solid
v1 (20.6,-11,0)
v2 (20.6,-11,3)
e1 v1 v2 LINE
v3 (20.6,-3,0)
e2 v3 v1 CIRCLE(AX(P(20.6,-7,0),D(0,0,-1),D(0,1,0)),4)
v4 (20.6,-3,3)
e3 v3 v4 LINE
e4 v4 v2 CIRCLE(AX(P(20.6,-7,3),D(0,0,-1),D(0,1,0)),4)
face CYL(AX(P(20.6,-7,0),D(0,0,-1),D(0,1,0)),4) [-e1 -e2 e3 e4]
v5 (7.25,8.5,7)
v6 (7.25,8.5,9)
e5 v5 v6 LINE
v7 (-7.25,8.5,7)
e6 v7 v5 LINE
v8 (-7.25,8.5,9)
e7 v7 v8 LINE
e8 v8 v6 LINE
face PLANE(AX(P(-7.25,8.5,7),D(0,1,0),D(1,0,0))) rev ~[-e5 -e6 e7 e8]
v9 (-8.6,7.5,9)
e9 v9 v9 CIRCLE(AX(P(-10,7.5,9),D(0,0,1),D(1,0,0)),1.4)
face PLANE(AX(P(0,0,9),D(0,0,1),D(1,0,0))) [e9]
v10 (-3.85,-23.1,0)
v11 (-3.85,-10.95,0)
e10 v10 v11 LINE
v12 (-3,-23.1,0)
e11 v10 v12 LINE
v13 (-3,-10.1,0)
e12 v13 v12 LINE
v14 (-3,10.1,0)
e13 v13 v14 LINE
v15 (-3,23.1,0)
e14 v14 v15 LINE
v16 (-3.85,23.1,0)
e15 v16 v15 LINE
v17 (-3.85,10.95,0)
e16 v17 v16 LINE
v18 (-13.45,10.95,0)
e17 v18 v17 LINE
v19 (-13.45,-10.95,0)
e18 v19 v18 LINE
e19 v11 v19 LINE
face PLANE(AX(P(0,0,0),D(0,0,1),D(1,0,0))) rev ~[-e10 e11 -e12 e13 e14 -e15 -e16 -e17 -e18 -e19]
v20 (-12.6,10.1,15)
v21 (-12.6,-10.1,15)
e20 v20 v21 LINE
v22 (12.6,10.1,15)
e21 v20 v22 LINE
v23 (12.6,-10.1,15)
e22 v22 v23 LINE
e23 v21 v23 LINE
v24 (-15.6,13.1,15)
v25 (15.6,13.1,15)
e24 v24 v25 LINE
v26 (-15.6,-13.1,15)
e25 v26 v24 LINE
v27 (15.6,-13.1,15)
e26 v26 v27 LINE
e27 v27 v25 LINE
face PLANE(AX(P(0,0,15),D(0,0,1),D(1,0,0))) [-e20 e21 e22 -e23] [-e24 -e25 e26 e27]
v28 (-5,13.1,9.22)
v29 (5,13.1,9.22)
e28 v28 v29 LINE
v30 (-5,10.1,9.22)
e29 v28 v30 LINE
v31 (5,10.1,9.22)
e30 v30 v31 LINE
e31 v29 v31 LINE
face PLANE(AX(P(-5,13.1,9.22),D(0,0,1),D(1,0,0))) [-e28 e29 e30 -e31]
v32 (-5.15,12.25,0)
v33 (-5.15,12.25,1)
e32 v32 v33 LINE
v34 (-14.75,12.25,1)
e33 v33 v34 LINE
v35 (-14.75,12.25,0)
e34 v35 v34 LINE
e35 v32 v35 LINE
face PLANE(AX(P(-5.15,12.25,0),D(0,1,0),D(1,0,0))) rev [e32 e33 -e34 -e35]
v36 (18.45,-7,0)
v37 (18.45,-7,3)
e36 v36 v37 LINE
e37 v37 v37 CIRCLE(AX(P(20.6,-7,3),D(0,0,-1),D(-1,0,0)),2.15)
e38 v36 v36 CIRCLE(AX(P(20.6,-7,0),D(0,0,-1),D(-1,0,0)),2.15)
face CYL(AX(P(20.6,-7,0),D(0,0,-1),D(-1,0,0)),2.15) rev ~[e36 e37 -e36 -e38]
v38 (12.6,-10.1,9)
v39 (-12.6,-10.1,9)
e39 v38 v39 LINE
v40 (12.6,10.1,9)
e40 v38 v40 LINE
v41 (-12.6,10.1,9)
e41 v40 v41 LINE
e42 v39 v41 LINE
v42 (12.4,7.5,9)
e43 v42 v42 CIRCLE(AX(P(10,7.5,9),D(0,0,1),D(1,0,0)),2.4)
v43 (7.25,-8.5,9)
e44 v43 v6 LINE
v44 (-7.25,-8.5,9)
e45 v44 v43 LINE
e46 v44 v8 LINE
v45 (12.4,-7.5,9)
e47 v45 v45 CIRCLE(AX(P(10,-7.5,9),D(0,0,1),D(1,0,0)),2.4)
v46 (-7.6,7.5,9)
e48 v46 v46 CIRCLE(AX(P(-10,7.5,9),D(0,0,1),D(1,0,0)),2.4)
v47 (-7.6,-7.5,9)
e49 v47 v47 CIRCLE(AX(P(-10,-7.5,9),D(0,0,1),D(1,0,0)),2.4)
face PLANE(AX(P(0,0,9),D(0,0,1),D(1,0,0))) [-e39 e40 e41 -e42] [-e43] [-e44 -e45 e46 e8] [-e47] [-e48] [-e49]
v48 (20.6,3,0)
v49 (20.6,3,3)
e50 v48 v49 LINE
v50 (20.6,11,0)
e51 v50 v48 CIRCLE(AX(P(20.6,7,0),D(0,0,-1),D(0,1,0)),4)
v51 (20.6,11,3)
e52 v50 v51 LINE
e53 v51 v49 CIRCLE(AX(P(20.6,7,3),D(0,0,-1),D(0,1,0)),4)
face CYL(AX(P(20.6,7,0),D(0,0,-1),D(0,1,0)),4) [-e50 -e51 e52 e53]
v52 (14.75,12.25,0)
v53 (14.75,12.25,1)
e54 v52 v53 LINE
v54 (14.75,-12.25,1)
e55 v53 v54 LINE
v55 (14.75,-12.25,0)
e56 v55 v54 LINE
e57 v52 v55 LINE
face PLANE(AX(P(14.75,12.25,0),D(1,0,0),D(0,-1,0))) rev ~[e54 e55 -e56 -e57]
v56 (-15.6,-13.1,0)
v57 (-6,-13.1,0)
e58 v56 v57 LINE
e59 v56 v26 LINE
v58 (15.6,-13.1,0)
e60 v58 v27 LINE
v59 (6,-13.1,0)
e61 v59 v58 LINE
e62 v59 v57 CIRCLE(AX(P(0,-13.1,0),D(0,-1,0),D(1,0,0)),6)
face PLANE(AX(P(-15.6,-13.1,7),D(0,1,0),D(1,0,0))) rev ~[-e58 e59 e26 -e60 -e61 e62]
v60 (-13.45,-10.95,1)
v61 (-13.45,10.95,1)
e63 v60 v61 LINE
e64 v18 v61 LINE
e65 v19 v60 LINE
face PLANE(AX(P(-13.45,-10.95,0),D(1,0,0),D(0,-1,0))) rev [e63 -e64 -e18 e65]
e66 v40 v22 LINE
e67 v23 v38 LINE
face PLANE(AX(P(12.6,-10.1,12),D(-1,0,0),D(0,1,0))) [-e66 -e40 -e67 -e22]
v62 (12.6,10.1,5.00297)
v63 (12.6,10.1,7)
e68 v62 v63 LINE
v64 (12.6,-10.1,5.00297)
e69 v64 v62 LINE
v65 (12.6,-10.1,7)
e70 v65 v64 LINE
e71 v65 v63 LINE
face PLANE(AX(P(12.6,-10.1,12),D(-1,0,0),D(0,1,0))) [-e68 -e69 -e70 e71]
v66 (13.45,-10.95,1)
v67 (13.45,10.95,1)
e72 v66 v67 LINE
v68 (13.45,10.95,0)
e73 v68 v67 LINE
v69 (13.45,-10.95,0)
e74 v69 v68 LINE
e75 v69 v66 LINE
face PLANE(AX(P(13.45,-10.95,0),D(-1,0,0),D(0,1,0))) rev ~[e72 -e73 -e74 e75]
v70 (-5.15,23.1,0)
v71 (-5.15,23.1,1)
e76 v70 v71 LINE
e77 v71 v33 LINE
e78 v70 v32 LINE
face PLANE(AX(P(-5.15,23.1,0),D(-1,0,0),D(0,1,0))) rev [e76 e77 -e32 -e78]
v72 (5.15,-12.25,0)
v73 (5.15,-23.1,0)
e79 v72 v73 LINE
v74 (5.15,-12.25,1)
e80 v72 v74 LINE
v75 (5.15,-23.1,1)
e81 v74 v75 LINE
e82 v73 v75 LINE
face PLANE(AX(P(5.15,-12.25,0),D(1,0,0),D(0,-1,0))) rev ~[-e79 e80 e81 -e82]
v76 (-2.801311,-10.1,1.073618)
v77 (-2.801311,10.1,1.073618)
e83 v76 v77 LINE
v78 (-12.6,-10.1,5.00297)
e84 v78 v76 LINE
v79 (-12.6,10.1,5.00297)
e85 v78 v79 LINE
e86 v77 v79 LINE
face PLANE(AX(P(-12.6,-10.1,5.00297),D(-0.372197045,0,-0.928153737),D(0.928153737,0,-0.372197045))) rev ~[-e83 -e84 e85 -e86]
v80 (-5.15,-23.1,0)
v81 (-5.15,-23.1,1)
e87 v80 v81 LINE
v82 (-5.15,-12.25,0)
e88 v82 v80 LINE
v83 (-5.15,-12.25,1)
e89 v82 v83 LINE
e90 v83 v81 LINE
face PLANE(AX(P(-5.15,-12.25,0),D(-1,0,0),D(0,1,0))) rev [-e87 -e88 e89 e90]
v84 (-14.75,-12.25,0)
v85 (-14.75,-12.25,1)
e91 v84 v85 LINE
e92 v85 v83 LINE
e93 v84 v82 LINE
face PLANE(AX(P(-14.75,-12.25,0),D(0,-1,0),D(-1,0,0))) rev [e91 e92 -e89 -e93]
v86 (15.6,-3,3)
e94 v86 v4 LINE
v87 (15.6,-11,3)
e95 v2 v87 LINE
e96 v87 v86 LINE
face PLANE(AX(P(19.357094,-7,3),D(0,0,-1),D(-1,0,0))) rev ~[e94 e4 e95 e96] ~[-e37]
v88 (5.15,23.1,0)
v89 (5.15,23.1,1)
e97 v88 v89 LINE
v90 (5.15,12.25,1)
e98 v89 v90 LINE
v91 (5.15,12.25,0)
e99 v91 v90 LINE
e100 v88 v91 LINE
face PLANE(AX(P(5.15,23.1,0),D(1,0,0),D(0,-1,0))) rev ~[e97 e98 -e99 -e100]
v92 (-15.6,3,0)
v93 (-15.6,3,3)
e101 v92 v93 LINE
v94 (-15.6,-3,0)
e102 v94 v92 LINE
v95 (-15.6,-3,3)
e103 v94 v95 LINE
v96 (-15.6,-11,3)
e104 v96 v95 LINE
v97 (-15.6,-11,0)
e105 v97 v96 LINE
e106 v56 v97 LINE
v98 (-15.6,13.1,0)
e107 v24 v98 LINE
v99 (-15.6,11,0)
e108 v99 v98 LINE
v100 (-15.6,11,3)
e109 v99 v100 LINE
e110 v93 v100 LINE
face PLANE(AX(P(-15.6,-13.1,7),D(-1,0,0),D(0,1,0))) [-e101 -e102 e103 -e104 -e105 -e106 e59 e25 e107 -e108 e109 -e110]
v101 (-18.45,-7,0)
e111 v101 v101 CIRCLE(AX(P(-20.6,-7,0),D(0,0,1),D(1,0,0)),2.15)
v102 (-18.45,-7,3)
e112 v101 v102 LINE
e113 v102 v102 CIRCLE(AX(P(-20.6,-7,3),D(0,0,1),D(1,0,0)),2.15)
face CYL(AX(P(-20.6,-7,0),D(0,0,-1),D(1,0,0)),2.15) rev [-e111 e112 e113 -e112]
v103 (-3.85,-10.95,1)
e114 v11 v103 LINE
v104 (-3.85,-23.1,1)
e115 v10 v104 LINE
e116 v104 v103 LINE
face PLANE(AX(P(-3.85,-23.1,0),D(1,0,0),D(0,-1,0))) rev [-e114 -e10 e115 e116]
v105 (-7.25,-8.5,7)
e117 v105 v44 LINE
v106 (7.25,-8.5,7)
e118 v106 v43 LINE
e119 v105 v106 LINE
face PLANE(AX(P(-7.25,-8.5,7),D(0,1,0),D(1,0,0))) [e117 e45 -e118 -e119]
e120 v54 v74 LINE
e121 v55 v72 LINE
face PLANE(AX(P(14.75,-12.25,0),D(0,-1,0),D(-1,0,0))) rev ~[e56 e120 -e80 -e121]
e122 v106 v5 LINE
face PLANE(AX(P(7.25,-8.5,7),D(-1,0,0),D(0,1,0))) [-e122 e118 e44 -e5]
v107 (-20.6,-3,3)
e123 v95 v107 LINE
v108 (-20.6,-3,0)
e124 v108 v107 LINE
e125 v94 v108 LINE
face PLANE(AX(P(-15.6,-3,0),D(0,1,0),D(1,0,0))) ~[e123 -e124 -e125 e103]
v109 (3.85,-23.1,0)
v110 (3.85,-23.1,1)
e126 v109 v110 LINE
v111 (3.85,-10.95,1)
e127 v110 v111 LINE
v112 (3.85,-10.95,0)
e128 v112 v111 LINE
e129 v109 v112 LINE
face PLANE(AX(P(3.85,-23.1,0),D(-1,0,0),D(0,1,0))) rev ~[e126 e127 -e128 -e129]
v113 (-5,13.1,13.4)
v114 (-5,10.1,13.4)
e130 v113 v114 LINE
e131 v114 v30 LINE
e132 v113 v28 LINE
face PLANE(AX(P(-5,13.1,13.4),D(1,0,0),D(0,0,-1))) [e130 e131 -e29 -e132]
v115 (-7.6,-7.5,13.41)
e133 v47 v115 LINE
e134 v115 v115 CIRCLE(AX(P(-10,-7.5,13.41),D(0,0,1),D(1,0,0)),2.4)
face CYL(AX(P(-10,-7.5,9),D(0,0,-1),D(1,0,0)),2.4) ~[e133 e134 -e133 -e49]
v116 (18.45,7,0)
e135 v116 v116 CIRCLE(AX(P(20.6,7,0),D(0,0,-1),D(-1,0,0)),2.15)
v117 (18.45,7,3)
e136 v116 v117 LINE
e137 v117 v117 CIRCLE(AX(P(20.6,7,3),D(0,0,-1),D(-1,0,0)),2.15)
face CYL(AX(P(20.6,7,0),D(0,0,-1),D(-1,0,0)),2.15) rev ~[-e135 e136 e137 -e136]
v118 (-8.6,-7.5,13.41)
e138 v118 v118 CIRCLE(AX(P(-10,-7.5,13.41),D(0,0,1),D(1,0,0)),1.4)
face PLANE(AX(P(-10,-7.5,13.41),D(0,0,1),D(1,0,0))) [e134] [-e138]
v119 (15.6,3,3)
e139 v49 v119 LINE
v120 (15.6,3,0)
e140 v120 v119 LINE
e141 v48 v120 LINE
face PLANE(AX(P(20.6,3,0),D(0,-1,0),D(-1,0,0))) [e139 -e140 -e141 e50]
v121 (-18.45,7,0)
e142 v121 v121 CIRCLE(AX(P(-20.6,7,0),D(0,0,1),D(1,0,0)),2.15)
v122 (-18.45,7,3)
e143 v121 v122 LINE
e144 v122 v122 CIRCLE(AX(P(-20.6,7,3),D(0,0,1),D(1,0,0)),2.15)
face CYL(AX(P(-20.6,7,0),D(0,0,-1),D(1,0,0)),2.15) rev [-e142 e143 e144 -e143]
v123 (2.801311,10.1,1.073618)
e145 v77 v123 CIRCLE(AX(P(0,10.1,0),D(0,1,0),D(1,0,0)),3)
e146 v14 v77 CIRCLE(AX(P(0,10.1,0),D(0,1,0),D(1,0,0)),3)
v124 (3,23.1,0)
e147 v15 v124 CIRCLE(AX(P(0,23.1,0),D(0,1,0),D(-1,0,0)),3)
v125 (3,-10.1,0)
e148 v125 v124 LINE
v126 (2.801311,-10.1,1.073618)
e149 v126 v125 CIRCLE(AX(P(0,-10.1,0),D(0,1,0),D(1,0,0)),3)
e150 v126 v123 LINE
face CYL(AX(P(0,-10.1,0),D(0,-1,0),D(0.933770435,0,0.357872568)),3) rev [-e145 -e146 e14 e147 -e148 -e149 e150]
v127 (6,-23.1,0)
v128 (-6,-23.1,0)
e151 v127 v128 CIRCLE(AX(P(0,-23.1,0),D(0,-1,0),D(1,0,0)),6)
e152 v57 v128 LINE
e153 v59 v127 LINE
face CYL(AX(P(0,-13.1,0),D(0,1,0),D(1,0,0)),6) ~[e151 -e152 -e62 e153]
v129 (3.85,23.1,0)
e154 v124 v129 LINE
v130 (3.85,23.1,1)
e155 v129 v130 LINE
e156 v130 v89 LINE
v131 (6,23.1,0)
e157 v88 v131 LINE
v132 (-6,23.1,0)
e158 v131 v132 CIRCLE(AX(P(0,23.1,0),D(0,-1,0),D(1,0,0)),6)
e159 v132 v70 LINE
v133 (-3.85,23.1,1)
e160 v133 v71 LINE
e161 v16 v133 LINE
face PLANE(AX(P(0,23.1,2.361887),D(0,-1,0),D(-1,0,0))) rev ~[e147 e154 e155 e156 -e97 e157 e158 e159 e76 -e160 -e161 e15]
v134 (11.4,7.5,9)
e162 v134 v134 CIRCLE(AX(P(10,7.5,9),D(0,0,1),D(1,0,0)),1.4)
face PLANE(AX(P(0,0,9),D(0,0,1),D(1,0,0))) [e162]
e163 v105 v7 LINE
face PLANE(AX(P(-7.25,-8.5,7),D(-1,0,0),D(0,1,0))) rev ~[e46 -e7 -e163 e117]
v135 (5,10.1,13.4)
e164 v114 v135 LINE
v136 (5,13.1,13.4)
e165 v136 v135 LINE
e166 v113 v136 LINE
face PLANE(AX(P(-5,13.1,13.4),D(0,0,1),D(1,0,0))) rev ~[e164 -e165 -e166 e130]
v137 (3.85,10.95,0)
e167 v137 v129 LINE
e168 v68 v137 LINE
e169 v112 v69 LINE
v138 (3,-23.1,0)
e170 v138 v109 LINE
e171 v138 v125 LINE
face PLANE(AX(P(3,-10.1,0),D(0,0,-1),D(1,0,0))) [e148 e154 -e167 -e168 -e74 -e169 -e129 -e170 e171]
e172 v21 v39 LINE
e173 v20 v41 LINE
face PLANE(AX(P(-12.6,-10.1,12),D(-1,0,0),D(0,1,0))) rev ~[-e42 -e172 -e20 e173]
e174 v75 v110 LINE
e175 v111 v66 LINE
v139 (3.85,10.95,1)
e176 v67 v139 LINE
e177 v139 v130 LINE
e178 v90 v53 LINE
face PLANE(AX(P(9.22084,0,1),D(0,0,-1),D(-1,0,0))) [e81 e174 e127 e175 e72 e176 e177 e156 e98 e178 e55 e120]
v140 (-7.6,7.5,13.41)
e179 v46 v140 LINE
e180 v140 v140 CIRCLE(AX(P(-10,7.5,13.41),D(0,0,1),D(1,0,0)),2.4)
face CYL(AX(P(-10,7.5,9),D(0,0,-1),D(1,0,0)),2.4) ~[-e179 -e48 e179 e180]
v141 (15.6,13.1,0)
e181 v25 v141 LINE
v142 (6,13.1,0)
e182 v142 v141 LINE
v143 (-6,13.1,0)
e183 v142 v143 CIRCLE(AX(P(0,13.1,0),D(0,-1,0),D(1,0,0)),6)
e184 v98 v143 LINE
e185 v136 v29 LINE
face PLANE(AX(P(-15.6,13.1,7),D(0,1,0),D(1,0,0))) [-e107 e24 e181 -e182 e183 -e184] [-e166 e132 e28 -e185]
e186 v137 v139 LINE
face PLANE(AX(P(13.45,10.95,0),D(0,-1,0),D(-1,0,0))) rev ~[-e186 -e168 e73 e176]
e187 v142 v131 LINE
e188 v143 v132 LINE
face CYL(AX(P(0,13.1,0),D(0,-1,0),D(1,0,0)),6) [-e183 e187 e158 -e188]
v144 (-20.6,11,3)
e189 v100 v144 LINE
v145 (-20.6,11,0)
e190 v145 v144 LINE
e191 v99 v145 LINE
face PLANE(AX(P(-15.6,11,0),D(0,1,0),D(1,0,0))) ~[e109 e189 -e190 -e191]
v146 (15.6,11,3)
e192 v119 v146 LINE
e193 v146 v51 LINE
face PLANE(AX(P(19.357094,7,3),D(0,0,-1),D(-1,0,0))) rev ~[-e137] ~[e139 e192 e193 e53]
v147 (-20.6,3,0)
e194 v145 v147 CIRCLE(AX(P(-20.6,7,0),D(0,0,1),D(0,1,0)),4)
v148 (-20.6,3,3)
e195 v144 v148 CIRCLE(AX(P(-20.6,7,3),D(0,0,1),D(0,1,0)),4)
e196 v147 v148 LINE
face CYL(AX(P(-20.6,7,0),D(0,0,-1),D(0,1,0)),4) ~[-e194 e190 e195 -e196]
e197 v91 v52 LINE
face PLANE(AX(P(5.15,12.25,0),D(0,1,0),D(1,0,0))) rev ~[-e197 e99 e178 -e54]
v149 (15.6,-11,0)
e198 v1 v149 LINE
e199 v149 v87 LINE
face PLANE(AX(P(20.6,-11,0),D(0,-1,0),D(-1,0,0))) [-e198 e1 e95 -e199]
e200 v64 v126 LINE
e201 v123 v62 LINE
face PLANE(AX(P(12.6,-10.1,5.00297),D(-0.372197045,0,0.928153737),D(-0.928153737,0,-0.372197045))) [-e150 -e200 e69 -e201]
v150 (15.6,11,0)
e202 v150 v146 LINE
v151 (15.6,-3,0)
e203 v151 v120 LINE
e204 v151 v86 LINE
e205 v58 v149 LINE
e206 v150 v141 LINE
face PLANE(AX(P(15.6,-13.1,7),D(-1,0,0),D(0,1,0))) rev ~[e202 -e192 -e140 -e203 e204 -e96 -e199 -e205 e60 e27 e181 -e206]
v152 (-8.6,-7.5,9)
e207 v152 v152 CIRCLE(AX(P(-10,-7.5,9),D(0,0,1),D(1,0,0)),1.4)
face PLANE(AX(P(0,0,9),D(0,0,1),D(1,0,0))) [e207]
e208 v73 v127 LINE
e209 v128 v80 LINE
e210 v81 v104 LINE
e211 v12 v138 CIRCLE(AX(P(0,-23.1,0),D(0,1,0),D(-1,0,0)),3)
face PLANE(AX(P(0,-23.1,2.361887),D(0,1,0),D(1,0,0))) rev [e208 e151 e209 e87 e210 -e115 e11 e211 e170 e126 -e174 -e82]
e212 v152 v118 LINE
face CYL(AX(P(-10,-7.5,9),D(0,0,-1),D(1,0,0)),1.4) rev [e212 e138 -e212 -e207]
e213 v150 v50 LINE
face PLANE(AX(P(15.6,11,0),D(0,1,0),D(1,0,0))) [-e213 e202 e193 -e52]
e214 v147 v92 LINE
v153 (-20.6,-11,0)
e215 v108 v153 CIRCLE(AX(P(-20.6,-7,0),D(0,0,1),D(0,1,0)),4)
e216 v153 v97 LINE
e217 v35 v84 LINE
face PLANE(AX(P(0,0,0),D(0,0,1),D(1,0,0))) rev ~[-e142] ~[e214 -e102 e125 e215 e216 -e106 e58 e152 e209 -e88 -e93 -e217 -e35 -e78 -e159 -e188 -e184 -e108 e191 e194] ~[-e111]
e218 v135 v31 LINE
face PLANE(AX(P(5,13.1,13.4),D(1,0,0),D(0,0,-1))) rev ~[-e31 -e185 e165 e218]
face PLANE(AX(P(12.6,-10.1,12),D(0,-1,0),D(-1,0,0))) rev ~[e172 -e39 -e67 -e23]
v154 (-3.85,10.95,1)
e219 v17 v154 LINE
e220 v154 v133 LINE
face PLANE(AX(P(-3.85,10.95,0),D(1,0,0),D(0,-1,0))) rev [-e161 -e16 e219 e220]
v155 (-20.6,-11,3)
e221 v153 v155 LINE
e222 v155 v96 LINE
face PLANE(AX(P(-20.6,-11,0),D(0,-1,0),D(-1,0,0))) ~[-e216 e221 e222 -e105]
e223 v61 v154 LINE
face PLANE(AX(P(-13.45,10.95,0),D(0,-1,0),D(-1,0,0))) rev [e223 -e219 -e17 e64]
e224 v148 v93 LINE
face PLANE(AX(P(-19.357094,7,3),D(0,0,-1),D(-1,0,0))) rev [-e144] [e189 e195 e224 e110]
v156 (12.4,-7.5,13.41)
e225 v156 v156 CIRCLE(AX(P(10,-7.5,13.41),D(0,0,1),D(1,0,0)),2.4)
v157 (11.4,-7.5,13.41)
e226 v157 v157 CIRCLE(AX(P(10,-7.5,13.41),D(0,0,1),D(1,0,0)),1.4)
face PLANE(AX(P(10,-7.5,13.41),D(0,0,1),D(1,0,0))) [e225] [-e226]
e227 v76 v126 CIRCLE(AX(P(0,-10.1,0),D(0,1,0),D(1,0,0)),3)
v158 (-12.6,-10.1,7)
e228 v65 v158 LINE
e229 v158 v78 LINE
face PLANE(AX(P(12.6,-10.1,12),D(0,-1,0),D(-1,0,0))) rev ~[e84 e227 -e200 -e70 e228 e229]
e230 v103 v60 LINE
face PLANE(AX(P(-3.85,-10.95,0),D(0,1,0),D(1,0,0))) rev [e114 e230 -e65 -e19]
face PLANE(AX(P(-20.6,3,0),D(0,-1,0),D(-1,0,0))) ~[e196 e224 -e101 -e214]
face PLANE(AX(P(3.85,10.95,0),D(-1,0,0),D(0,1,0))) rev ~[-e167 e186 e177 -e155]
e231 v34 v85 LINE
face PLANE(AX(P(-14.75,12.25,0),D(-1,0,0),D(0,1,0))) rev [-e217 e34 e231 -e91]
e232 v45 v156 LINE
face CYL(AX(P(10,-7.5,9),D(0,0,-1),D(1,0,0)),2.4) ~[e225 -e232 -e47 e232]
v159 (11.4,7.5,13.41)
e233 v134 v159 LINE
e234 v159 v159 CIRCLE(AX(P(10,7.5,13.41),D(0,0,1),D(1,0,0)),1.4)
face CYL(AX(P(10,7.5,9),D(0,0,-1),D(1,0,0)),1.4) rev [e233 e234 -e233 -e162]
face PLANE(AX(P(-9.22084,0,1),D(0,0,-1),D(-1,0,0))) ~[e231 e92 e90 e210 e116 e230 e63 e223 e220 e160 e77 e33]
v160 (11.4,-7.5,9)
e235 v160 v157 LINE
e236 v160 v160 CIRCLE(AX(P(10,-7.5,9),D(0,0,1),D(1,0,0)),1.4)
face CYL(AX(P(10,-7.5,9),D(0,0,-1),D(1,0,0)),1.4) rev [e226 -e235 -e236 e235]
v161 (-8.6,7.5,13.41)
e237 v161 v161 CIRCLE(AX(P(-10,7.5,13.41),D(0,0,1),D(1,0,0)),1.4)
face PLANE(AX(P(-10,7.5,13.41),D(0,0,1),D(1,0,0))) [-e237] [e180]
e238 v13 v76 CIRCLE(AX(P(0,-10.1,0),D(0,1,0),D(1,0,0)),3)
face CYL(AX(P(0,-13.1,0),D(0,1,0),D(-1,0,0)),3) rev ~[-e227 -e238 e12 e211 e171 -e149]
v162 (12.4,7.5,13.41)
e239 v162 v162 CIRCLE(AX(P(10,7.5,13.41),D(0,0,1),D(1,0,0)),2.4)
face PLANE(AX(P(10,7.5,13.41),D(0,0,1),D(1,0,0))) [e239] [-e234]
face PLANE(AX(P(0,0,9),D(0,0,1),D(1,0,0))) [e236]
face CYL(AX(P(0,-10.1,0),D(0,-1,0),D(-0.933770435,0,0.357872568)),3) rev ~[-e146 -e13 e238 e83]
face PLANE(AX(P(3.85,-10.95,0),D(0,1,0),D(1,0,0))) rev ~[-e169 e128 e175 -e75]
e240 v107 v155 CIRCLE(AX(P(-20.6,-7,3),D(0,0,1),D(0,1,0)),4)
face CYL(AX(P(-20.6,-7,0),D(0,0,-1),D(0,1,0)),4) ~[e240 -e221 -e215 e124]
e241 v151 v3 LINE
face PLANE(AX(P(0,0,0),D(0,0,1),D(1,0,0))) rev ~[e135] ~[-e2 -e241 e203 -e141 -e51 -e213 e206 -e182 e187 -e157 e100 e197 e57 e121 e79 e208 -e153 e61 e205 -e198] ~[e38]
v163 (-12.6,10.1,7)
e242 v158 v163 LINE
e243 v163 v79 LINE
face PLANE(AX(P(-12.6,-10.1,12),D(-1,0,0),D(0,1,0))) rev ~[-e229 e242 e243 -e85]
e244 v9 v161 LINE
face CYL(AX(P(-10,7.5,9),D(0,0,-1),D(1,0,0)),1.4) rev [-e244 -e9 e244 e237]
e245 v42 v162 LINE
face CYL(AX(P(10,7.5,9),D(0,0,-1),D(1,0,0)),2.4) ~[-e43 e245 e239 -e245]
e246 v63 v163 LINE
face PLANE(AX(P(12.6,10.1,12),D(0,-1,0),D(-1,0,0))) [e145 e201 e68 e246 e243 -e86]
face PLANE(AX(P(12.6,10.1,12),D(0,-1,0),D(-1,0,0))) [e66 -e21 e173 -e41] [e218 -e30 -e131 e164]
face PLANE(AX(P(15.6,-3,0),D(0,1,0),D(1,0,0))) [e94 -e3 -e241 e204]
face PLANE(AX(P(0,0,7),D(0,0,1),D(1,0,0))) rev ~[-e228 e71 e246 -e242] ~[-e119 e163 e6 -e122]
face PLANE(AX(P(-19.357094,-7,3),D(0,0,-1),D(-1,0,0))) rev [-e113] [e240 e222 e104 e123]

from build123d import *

# Parameters (mm, degrees)
SKETCH1_W            = 31.2
SKETCH1_H            = 26.2
BOSS_EXTRUDE1_DEPTH  = 15
SHELL2_T             = -3
BOSS_EXTRUDE2_DEPTH  = 10
CUT_EXTRUDE2_DEPTH   = 43.175822458
SKETCH8_R            = 2.15
BOSS_EXTRUDE5_DEPTH  = 3
CUT_EXTRUDE7_DEPTH   = 1
SKETCH14_W           = 25.2
SKETCH14_H           = 20.2
CUT_EXTRUDE5_DEPTH   = 36.815778646
BOSS_EXTRUDE8_REACH  = 45.959
BOSS_EXTRUDE9_START  = -8
SKETCH15_W           = 31.2
SKETCH15_H           = 26.2
SKETCH15_W_2         = 14.5
SKETCH15_H_2         = 17
BOSS_EXTRUDE9_DEPTH  = 2
SKETCH16_R           = 2.4
SKETCH16_R_2         = 1.4
BOSS_EXTRUDE10_DEPTH = 4.41
CUT_EXTRUDE6_REACH   = 48.267
SKETCH5_W            = 10
SKETCH5_H            = 4.18


with BuildPart() as part:
    # Sketch1 → Boss-Extrude1 (new body)
    with BuildSketch(Plane.XY):
        Rectangle(SKETCH1_W, SKETCH1_H)
    extrude(amount=BOSS_EXTRUDE1_DEPTH)

    # Shell2
    shell2_openings = [part.faces().sort_by_distance(p)[0] for p in [
        (0, 0, 0),
    ]]
    offset(amount=SHELL2_T, openings=shell2_openings, kind=Kind.INTERSECTION)

    # Sketch3 → Boss-Extrude2 (add)
    with BuildSketch(Plane(origin=(0, 13.1, 0), x_dir=(1, 0, 0), z_dir=(0, 1, 0))):
        with BuildLine():
            Line((-6, 0), (-3, 0))
            ThreePointArc((-3, 0), (0, -3), (3, 0))
            Line((3, 0), (6, 0))
            ThreePointArc((6, 0), (0, -6), (-6, 0))
        make_face()
    boss_extrude2 = extrude(amount=BOSS_EXTRUDE2_DEPTH)

    # Mirror1: Boss-Extrude2 across plane
    add(boss_extrude2.mirror(Plane.ZX))

    # Sketch4 → Cut-Extrude2 (cut, through all)
    with BuildSketch(Plane(origin=(0, 13.1, 0), x_dir=(1, 0, 0), z_dir=(0, 1, 0))):
        with BuildLine():
            Line((-3, 0), (3, 0))
            ThreePointArc((3, 0), (0, -3), (-3, 0))
        make_face()
    extrude(amount=-CUT_EXTRUDE2_DEPTH, mode=Mode.SUBTRACT)

    # Sketch8 → Boss-Extrude5 (add)
    # profile 1 of 2: a face of its own
    with BuildSketch(Plane(origin=(0, 0, 0), x_dir=(-1, 0, 0), z_dir=(0, 0, -1))):
        with BuildLine():
            Line((-15.6, 3), (-15.6, 11))
            Line((-15.6, 11), (-20.6, 11))
            ThreePointArc((-20.6, 11), (-24.6, 7), (-20.6, 3))
            Line((-20.6, 3), (-15.6, 3))
        make_face()
        with Locations((-20.6, 7)):
            Circle(SKETCH8_R, mode=Mode.SUBTRACT)
    # profile 2 of 2: a face of its own
    with BuildSketch(Plane(origin=(0, 0, 0), x_dir=(-1, 0, 0), z_dir=(0, 0, -1))):
        with BuildLine():
            Line((-15.6, -11), (-15.6, -3))
            Line((-15.6, -3), (-20.6, -3))
            ThreePointArc((-20.6, -3), (-24.6, -7), (-20.6, -11))
            Line((-20.6, -11), (-15.6, -11))
        make_face()
        with Locations((-20.6, -7)):
            Circle(SKETCH8_R, mode=Mode.SUBTRACT)
    boss_extrude5 = extrude(amount=-BOSS_EXTRUDE5_DEPTH)

    # Sketch7 → Cut-Extrude7 (cut)
    with BuildSketch(Plane(origin=(0, 0, 0), x_dir=(-1, 0, 0), z_dir=(0, 0, -1))):
        Polygon((-3.85, -23.1), (-3.85, -10.95), (-13.45, -10.95), (-13.45, 10.95), (-3.85, 10.95), (-3.85, 23.1), (-5.15, 23.1), (-5.15, 12.25), (-14.75, 12.25), (-14.75, -12.25), (-5.15, -12.25), (-5.15, -23.1), align=None)
    cut_extrude7 = extrude(amount=-CUT_EXTRUDE7_DEPTH, mode=Mode.SUBTRACT)

    # Mirror3: Boss-Extrude5, Cut-Extrude7 across plane
    add(boss_extrude5.mirror(Plane(origin=(0, 0, 0), x_dir=(0, 0, 1), z_dir=(1, 0, 0))))
    add(cut_extrude7.mirror(Plane(origin=(0, 0, 0), x_dir=(0, 0, 1), z_dir=(1, 0, 0))), mode=Mode.SUBTRACT)

    # Sketch14 → Cut-Extrude5 (cut, through all)
    with BuildSketch(Plane(origin=(0, 0, 12), x_dir=(-1, 0, 0), z_dir=(0, 0, -1))):
        Rectangle(SKETCH14_W, SKETCH14_H)
    extrude(amount=-CUT_EXTRUDE5_DEPTH, mode=Mode.SUBTRACT)

    # Sketch11 → Boss-Extrude8 (add, up to next)
    with BuildSketch(Plane(origin=(0, -10.1, 0), x_dir=(1, 0, 0), z_dir=(0, 1, 0)), mode=Mode.PRIVATE) as boss_extrude8_sk1:
        with BuildLine():
            Line((3, 0), (12.6, 0))
            Line((12.6, 0), (12.6, -5.002969955))
            Line((12.6, -5.002969955), (2.801311304, -1.073617705))
            ThreePointArc((2.801311304, -1.073617705), (2.949909652, -0.545924027), (3, 0))
        make_face()
    boss_extrude8_tool1 = extrude(boss_extrude8_sk1.sketch, amount=BOSS_EXTRUDE8_REACH, mode=Mode.PRIVATE) - part.part
    # Sketch11 → Boss-Extrude8 (add, up to next)
    with BuildSketch(Plane(origin=(0, -10.1, 0), x_dir=(1, 0, 0), z_dir=(0, 1, 0)), mode=Mode.PRIVATE) as boss_extrude8_sk2:
        with BuildLine():
            Line((-12.6, -5.002969955), (-2.801311304, -1.073617705))
            ThreePointArc((-2.801311304, -1.073617705), (-2.949909652, -0.545924027), (-3, 0))
            Line((-3, 0), (-12.6, 0))
            Line((-12.6, 0), (-12.6, -5.002969955))
        make_face()
    boss_extrude8_tool2 = extrude(boss_extrude8_sk2.sketch, amount=BOSS_EXTRUDE8_REACH, mode=Mode.PRIVATE) - part.part
    add(boss_extrude8_tool1.solids().sort_by_distance((8.785084, -10.1, 1.737296))[0])
    add(boss_extrude8_tool2.solids().sort_by_distance((-8.785084, -10.1, 1.737296))[0])

    # Sketch15 → Boss-Extrude9 (add)
    with BuildSketch(Plane.XY.offset(15).offset(BOSS_EXTRUDE9_START)):
        Rectangle(SKETCH15_W, SKETCH15_H)
        Rectangle(SKETCH15_W_2, SKETCH15_H_2, mode=Mode.SUBTRACT)
    extrude(amount=BOSS_EXTRUDE9_DEPTH)

    # Sketch16 → Boss-Extrude10 (add)
    # profile 1 of 4: a face of its own
    with BuildSketch(Plane.XY.offset(9)):
        with Locations((-10, 7.5)):
            Circle(SKETCH16_R)
        with Locations((-10, 7.5)):
            Circle(SKETCH16_R_2, mode=Mode.SUBTRACT)
    # profile 2 of 4: a face of its own
    with BuildSketch(Plane.XY.offset(9)):
        with Locations((10, 7.5)):
            Circle(SKETCH16_R)
        with Locations((10, 7.5)):
            Circle(SKETCH16_R_2, mode=Mode.SUBTRACT)
    # profile 3 of 4: a face of its own
    with BuildSketch(Plane.XY.offset(9)):
        with Locations((-10, -7.5)):
            Circle(SKETCH16_R)
        with Locations((-10, -7.5)):
            Circle(SKETCH16_R_2, mode=Mode.SUBTRACT)
    # profile 4 of 4: a face of its own
    with BuildSketch(Plane.XY.offset(9)):
        with Locations((10, -7.5)):
            Circle(SKETCH16_R)
        with Locations((10, -7.5)):
            Circle(SKETCH16_R_2, mode=Mode.SUBTRACT)
    extrude(amount=BOSS_EXTRUDE10_DEPTH)

    # Sketch5 → Cut-Extrude6 (cut, up to next)
    with BuildSketch(Plane(origin=(0, 13.1, 0), x_dir=(1, 0, 0), z_dir=(0, 1, 0)), mode=Mode.PRIVATE) as cut_extrude6_sk1:
        with Locations((0, -11.31)):
            Rectangle(SKETCH5_W, SKETCH5_H)
    cut_extrude6_tool1 = extrude(cut_extrude6_sk1.sketch, amount=-CUT_EXTRUDE6_REACH, mode=Mode.PRIVATE) & part.part
    add(cut_extrude6_tool1.solids().sort_by_distance((0, 13.1, 11.31))[0], mode=Mode.SUBTRACT)


solid = part.part
